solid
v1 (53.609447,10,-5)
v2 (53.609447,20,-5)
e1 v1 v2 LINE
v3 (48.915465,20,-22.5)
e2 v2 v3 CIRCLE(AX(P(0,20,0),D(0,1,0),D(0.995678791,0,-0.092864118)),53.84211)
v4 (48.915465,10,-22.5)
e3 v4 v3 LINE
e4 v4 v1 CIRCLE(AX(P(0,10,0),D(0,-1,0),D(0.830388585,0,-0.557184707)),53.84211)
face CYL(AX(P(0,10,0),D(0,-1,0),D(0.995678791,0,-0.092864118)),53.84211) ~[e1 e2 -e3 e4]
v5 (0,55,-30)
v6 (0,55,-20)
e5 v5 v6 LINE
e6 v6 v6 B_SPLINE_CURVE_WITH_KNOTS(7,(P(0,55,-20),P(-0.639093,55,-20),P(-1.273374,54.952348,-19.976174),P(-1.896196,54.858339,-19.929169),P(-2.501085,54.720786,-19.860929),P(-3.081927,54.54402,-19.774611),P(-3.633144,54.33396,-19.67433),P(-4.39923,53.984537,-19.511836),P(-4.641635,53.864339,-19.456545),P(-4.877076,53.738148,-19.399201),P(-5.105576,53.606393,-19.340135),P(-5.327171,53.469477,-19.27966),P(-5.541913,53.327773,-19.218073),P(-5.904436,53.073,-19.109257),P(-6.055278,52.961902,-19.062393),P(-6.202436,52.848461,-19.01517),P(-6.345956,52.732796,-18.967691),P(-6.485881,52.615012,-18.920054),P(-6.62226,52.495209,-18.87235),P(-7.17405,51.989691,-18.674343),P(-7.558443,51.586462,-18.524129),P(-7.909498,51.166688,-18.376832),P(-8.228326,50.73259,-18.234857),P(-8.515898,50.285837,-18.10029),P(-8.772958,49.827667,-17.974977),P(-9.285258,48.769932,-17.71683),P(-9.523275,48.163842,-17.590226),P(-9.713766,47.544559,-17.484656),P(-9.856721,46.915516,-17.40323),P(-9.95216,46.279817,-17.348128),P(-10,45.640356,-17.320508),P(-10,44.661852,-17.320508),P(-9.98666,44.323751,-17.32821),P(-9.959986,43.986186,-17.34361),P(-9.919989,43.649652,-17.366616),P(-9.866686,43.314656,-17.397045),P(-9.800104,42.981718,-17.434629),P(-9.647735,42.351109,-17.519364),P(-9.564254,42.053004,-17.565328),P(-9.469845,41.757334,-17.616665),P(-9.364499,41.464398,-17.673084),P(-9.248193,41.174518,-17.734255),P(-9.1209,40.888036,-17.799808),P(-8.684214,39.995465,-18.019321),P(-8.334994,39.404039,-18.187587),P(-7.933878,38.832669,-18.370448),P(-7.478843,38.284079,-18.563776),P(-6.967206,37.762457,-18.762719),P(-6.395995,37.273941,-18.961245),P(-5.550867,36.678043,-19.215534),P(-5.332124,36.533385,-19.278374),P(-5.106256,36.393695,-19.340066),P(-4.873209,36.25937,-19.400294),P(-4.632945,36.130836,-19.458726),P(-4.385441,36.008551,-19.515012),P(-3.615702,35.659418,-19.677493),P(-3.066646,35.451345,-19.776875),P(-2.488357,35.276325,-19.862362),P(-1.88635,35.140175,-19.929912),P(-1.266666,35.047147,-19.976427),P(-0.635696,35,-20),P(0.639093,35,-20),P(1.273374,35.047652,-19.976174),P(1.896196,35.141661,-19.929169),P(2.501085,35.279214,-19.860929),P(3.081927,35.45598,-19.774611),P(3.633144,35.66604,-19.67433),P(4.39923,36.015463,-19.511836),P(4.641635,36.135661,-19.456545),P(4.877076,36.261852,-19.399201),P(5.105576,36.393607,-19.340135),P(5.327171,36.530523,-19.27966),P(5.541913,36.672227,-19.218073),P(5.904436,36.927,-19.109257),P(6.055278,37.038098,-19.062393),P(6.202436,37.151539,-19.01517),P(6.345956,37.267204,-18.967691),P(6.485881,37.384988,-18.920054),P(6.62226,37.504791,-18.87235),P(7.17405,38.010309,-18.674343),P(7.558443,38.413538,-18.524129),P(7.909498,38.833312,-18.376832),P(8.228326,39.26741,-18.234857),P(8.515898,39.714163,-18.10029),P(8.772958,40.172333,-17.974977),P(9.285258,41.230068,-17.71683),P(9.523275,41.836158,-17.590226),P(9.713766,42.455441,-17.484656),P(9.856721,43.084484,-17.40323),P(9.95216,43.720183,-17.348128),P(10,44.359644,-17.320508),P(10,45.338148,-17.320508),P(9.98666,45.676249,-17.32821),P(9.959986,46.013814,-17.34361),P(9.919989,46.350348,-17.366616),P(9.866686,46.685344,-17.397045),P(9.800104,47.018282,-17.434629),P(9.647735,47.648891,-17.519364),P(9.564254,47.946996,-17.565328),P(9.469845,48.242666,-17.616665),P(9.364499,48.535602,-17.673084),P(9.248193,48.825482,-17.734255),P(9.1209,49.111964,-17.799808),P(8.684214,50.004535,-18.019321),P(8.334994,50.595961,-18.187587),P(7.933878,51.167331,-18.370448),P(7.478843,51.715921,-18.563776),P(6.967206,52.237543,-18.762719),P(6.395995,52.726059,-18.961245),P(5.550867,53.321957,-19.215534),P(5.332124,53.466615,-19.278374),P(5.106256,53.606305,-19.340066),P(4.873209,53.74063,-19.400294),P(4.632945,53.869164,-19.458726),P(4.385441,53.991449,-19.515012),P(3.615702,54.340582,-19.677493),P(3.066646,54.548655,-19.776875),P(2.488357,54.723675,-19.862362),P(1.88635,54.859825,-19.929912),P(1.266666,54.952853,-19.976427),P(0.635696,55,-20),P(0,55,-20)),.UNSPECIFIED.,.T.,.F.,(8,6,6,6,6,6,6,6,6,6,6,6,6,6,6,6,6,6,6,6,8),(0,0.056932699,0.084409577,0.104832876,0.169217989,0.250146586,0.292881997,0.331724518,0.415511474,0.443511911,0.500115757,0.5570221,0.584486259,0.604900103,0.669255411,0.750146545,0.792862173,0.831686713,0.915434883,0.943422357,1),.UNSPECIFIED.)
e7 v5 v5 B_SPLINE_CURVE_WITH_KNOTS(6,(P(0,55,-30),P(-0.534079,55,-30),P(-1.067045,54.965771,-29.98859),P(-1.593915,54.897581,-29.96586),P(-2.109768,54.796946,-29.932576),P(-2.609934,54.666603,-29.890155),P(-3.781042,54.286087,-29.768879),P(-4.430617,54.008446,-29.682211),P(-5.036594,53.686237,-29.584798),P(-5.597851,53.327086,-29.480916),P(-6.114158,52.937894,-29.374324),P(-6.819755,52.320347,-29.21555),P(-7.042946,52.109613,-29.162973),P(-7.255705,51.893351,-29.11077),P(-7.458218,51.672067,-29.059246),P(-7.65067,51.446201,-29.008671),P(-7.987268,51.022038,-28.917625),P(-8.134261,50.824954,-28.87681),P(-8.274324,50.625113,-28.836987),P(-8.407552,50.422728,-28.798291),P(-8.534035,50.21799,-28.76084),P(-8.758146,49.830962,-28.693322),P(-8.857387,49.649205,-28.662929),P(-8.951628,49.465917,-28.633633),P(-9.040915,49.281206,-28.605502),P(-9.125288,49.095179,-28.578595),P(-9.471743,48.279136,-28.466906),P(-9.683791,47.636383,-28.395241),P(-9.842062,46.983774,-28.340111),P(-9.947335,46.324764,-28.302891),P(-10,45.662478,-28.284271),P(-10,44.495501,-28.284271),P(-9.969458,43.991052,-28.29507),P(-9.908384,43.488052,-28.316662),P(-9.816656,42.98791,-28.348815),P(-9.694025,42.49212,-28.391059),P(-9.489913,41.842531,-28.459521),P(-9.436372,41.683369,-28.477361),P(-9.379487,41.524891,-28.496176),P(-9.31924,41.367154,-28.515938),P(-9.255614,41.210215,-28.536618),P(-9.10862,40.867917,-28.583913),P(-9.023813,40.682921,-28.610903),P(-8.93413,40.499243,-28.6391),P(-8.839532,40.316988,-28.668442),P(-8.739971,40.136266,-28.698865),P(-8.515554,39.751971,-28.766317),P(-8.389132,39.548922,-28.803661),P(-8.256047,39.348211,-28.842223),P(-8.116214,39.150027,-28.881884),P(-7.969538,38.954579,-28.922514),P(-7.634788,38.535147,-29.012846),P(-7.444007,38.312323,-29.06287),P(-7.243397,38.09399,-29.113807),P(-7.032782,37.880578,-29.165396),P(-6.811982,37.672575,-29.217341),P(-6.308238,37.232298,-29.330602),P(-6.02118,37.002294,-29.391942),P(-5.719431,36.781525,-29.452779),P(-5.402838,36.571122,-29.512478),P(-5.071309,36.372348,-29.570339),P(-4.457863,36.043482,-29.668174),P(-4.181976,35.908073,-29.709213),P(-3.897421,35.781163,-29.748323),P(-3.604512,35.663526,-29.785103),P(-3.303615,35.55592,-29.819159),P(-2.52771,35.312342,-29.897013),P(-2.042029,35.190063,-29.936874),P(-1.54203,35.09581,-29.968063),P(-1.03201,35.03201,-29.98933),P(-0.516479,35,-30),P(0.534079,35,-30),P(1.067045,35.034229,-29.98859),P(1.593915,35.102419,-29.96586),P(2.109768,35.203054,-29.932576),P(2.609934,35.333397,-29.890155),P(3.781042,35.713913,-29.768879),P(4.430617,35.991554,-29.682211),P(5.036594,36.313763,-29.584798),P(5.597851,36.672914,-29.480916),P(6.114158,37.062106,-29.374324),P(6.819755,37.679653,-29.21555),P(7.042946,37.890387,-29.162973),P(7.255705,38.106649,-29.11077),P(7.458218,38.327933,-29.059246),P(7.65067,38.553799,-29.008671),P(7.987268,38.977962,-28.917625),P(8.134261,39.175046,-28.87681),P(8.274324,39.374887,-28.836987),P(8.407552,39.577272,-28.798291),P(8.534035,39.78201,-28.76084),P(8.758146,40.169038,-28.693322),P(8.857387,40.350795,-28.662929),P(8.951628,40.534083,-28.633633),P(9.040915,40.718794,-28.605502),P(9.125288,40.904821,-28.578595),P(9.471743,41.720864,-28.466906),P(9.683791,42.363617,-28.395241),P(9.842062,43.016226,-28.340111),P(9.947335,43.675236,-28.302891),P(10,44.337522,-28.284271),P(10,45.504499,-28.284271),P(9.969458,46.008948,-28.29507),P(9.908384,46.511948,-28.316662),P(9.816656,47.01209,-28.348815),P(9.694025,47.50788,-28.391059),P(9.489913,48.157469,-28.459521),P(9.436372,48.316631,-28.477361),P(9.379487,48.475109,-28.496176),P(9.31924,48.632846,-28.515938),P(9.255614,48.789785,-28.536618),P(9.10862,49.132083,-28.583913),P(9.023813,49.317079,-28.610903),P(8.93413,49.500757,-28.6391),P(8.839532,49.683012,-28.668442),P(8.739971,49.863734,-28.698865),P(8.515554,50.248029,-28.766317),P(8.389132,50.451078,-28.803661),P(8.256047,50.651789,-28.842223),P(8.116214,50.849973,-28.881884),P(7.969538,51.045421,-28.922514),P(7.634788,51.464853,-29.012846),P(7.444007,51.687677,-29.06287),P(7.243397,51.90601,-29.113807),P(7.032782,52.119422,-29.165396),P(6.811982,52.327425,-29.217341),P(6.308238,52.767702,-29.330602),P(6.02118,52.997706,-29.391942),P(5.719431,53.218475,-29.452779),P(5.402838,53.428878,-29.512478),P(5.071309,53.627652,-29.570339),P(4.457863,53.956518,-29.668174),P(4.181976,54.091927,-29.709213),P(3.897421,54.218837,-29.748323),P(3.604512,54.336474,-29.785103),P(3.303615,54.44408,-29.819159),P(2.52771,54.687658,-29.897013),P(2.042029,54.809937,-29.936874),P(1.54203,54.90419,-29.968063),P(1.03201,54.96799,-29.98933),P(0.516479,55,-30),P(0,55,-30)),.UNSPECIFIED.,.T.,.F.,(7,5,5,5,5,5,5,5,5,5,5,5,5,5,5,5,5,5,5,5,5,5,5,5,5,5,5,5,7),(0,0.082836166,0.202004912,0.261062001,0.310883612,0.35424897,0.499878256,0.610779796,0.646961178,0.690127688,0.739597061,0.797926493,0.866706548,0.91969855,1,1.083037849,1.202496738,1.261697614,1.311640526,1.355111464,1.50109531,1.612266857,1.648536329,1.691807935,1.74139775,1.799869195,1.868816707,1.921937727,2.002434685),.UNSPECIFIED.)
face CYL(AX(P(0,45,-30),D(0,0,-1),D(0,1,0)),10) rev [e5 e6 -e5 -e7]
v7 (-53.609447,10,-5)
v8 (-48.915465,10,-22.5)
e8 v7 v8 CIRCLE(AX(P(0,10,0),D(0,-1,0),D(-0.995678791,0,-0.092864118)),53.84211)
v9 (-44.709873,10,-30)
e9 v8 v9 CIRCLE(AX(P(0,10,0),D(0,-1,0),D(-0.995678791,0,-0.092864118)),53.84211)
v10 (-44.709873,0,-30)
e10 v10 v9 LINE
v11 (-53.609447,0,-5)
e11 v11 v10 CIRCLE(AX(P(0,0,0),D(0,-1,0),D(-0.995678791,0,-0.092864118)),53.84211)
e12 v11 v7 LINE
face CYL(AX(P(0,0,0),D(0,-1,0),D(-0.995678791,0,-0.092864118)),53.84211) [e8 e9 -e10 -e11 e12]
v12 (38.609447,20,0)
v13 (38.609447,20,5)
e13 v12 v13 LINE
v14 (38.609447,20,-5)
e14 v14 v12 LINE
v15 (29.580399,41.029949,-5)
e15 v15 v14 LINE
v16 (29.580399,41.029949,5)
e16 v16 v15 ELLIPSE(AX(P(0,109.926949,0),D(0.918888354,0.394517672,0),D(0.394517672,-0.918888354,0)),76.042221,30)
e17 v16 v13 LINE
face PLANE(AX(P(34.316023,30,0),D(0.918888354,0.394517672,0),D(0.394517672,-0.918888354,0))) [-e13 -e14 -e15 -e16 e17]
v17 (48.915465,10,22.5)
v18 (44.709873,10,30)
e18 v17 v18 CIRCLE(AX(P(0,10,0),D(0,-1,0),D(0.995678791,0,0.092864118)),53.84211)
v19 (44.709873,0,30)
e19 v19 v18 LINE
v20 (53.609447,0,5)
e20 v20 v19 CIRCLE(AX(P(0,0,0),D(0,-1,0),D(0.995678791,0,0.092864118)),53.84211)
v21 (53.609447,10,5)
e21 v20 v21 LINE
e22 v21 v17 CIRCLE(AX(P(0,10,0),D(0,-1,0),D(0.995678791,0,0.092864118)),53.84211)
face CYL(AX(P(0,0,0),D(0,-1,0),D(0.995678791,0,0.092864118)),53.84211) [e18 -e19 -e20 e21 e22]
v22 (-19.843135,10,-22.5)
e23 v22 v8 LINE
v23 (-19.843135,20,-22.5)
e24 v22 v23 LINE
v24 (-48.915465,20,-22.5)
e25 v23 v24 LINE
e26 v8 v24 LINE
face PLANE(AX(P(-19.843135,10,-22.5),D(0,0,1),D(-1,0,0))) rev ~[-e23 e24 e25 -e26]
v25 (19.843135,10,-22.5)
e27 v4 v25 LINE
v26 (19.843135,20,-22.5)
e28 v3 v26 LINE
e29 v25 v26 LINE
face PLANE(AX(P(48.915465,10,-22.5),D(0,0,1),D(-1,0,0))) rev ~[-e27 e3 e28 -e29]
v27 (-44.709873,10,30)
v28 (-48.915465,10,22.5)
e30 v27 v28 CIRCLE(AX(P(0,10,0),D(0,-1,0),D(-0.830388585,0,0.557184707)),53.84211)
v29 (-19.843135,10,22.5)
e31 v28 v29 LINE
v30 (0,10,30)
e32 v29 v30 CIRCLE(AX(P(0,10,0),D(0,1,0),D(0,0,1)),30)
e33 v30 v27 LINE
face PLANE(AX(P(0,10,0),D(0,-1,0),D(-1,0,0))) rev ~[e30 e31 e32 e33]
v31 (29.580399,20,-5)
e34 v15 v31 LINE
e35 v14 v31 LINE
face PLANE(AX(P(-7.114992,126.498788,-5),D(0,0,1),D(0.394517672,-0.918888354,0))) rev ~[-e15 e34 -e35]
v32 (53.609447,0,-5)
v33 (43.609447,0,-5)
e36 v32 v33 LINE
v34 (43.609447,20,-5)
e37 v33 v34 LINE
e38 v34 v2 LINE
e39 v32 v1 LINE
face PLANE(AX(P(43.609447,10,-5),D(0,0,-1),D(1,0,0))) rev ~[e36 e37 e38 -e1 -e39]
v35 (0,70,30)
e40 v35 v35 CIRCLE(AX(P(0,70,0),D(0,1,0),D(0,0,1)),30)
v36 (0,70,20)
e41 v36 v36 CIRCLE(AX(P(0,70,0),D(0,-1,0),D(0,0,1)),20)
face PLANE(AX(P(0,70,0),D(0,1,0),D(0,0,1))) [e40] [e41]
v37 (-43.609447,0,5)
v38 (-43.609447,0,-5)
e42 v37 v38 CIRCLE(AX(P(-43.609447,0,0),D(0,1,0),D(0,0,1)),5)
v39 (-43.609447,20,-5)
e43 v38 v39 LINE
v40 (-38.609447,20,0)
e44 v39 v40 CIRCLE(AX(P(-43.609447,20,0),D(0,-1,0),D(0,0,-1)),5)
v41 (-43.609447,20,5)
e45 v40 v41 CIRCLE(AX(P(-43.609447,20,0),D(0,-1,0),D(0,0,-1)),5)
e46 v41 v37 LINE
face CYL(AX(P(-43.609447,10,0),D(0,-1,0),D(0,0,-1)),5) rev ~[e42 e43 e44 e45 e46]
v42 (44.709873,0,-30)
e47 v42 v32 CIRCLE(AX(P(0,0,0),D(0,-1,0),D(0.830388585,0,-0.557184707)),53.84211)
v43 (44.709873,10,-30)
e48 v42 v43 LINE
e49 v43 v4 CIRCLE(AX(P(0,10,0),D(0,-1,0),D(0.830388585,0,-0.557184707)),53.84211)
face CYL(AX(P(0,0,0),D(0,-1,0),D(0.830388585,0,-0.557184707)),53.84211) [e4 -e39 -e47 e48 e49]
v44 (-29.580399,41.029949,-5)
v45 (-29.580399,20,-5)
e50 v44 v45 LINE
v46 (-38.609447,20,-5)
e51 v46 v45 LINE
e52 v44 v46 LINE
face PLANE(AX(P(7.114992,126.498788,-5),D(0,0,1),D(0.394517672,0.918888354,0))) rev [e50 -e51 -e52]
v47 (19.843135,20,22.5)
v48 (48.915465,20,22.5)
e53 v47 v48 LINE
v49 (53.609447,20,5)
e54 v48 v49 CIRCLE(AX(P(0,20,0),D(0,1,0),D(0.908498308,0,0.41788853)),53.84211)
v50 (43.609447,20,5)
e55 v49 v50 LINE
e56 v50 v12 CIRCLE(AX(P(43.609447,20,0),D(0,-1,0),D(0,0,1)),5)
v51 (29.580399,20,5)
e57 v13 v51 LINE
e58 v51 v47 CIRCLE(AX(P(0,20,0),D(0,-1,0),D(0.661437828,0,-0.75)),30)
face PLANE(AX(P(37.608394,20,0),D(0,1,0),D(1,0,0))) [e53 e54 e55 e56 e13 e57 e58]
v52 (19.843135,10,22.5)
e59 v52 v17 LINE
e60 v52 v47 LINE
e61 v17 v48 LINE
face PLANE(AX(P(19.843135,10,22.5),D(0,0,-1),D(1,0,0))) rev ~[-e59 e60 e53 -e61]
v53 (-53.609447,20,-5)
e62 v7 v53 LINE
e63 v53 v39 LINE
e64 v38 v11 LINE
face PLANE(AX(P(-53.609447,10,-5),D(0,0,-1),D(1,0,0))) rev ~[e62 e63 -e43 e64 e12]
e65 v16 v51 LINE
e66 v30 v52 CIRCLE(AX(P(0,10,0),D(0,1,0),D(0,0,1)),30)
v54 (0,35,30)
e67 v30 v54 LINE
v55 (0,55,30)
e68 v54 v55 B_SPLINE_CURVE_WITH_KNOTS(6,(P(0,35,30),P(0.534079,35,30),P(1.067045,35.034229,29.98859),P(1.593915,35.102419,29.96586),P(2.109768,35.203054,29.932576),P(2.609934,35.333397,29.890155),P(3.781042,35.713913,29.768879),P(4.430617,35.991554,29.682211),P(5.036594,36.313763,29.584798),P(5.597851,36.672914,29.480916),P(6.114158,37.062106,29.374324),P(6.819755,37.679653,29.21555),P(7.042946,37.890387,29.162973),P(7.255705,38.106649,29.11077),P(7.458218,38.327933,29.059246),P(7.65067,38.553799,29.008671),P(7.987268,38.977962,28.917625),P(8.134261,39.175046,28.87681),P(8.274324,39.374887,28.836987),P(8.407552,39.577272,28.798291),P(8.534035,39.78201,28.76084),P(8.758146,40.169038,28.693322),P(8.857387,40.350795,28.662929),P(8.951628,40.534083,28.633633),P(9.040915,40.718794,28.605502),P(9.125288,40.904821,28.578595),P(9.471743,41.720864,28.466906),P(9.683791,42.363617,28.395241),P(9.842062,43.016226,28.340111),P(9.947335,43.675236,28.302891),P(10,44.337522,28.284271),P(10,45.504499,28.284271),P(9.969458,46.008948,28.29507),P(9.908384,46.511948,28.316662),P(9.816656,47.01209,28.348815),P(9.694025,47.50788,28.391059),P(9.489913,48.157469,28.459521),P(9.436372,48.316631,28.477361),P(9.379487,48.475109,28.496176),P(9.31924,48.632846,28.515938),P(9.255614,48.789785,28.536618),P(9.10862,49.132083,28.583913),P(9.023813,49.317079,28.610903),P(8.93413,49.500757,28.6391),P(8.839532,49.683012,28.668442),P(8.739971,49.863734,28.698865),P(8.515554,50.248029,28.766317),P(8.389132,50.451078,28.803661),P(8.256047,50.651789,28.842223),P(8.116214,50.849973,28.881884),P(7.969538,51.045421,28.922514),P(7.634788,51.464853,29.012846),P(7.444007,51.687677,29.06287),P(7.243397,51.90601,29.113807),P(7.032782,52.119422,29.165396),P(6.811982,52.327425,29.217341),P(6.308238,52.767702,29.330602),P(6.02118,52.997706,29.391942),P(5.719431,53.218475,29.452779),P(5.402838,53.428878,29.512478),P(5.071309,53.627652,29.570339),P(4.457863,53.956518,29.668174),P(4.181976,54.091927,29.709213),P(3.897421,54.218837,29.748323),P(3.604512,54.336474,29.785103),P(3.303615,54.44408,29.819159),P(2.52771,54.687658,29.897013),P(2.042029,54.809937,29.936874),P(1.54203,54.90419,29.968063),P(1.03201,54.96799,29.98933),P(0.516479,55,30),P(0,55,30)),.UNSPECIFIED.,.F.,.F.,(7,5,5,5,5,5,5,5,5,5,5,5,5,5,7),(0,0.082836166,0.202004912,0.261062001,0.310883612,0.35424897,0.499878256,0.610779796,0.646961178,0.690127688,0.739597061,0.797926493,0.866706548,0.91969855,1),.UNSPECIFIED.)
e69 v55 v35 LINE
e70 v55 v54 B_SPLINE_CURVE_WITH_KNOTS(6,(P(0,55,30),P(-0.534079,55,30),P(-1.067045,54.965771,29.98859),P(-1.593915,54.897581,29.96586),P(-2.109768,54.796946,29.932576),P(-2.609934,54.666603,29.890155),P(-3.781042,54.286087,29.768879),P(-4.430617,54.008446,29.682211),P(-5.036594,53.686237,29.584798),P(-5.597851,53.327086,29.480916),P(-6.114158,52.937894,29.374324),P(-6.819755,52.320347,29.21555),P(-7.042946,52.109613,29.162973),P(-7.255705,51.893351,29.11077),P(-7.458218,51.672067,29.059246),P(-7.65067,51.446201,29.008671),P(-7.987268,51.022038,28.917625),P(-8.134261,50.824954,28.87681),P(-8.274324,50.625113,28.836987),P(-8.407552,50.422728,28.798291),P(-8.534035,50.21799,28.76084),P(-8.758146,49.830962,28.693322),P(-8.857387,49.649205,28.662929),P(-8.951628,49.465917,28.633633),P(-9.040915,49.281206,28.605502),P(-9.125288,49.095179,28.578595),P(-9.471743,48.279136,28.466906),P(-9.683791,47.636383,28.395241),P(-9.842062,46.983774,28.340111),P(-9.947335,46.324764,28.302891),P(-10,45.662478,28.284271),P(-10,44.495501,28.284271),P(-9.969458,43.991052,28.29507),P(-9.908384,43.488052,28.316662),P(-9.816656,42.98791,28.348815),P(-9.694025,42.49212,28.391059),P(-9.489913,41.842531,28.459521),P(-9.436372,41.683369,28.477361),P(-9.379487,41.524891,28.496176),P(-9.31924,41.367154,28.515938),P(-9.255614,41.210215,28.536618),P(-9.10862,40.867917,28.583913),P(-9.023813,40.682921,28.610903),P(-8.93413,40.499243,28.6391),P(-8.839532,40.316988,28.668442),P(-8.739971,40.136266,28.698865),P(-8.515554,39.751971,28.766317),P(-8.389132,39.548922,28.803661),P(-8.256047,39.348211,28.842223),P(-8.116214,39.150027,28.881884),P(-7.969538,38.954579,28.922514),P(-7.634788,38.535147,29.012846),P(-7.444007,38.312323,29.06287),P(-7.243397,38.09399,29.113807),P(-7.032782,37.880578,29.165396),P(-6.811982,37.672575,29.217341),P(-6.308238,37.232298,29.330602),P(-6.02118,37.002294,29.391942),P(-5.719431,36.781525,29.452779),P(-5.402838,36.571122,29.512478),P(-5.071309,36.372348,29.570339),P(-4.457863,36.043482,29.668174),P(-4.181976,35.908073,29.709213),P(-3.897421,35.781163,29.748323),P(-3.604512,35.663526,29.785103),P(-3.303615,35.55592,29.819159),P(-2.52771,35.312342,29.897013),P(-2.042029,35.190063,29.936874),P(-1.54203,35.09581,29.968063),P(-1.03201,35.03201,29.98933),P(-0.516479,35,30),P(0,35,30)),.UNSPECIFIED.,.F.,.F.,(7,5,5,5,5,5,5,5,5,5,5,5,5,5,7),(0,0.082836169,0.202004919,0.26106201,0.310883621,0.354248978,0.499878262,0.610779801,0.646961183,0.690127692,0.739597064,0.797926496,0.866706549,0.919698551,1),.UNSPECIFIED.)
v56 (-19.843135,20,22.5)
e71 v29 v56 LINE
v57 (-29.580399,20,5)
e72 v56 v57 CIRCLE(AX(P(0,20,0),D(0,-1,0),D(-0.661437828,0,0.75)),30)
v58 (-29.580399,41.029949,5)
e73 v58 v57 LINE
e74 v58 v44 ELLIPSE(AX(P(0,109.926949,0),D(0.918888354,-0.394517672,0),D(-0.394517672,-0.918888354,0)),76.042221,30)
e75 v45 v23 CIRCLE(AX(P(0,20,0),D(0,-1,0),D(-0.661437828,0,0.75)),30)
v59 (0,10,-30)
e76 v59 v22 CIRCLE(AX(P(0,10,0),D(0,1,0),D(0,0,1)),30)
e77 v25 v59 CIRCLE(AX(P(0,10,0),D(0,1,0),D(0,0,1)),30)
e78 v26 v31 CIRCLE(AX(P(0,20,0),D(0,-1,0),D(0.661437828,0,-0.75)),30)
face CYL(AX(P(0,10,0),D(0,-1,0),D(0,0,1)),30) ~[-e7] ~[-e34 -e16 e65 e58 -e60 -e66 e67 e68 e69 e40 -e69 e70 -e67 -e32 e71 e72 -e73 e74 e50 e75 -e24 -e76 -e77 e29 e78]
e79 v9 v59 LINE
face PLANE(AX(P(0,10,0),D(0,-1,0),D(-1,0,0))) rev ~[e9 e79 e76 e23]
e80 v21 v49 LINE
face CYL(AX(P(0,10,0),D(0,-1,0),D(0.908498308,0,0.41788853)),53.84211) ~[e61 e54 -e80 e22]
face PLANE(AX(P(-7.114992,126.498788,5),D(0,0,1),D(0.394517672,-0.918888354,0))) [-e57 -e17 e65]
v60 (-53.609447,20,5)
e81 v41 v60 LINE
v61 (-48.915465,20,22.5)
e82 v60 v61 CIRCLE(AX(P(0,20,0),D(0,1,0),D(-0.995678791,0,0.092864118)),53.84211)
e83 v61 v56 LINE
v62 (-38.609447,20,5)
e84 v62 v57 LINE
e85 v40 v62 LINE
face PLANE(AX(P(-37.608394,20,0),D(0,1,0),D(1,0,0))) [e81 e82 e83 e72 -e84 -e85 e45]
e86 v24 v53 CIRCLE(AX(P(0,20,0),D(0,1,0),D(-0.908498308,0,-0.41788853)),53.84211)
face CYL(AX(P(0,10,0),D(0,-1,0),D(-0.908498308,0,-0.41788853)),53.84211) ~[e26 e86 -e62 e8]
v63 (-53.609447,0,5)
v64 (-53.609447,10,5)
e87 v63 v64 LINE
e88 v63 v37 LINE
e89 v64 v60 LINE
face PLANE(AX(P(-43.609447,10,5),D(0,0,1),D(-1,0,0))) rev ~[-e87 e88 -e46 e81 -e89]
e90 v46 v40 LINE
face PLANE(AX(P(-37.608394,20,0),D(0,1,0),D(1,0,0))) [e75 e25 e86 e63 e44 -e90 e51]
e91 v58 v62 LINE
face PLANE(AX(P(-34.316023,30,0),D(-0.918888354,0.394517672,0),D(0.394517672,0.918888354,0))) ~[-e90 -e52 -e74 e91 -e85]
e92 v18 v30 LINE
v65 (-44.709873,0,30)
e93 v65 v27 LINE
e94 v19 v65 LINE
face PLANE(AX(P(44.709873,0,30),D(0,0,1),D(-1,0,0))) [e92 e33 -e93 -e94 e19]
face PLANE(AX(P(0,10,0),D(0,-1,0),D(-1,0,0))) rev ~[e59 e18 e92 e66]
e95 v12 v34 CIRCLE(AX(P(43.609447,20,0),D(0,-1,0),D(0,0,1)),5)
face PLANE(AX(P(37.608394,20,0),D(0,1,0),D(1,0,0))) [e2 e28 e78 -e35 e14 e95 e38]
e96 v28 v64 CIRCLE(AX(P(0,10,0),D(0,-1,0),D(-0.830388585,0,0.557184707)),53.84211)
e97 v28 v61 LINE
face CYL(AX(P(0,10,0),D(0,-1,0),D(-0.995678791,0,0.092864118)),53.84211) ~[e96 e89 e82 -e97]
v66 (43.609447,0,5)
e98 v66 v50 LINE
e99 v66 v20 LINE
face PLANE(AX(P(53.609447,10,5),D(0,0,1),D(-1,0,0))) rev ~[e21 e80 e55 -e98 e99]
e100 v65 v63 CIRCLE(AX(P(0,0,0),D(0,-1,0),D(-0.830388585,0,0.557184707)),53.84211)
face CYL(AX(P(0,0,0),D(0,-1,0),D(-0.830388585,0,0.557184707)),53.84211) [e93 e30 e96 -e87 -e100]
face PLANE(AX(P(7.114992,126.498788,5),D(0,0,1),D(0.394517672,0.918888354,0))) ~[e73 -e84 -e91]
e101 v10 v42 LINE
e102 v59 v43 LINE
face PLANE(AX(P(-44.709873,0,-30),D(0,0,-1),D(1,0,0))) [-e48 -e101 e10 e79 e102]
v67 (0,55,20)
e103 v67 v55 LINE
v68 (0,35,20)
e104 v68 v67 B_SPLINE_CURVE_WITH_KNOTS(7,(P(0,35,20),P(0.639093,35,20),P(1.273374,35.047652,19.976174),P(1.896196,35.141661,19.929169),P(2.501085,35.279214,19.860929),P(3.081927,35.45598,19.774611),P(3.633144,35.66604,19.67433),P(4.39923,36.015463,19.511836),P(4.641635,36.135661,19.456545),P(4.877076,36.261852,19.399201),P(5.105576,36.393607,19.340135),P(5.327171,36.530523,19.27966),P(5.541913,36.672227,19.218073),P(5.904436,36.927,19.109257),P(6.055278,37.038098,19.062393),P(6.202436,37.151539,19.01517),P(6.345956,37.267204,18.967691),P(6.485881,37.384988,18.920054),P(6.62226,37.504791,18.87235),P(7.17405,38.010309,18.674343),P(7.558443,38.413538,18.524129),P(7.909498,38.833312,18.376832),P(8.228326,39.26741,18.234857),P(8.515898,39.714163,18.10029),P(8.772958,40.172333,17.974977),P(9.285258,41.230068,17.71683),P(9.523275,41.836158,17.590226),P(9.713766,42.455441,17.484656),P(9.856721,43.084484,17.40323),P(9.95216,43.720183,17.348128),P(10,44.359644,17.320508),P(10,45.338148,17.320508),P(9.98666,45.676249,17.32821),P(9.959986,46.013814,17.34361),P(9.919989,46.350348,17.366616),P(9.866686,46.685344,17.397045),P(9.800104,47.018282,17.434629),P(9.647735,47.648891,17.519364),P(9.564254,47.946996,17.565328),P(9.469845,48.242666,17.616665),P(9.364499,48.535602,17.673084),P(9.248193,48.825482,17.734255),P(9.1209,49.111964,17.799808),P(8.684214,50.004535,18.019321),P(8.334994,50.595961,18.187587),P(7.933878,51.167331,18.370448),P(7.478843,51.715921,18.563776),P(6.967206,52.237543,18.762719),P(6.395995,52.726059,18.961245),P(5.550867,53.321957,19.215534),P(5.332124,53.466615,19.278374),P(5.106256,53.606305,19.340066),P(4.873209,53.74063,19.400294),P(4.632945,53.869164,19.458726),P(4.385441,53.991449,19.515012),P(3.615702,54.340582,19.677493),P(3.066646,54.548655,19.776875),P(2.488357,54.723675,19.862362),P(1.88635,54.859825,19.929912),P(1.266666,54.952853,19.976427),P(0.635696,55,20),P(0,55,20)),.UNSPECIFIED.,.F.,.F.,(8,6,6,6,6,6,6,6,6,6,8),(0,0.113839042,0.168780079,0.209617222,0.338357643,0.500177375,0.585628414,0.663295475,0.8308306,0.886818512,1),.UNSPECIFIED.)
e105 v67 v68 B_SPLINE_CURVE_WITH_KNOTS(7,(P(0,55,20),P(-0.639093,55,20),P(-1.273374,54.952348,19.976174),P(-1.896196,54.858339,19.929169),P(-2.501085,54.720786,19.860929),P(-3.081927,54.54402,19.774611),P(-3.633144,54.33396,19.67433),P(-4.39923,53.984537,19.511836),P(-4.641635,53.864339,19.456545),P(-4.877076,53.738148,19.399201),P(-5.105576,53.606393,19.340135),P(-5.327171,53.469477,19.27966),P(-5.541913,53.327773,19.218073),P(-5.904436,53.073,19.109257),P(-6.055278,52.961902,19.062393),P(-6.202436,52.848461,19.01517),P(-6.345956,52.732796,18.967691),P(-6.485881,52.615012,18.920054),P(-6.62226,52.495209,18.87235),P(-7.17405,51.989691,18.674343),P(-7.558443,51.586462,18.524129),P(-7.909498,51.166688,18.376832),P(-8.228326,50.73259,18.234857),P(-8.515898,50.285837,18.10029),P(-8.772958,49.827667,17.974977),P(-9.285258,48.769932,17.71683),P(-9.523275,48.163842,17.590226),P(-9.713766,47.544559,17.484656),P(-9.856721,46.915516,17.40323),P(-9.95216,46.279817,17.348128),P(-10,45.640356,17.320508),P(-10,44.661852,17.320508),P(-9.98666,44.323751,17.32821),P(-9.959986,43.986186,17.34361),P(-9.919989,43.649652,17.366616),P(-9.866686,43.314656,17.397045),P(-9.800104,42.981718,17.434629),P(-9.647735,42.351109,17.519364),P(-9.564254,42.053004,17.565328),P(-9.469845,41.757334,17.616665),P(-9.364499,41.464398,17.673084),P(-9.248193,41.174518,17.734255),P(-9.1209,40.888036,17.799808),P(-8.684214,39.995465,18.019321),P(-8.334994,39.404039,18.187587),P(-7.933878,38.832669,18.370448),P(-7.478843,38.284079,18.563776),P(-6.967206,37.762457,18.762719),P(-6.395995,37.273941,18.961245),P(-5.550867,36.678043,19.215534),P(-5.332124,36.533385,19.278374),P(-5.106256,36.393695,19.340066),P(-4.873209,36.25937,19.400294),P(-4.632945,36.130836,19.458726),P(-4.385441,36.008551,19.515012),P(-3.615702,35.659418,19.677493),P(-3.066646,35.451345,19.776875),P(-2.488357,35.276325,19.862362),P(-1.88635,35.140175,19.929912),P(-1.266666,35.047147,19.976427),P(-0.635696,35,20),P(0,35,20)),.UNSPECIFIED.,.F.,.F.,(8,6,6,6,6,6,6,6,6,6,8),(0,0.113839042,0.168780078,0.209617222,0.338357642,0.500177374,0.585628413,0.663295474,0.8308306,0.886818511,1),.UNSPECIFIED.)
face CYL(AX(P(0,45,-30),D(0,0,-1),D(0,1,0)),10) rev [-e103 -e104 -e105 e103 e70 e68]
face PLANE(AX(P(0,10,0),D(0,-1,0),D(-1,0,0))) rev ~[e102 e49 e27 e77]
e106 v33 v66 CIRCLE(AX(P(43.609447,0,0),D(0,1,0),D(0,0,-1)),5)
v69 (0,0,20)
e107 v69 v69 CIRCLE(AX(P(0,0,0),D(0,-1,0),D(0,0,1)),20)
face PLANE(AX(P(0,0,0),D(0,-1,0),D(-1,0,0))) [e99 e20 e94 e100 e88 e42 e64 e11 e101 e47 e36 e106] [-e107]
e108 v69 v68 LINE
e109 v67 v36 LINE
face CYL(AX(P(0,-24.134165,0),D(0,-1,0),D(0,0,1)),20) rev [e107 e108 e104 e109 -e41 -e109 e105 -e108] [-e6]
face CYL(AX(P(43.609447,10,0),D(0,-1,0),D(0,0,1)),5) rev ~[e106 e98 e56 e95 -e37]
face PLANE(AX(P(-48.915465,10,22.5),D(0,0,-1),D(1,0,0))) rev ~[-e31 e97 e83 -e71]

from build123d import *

# Parameters (mm, degrees)
EXTRUDE_1_DEPTH          = 10
SKETCH_3_R               = 30
EXTRUDE_2_DEPTH          = 60
CUT_EXTRUDE_START        = -30
SKETCH_4_R               = 10
CUT_EXTRUDE_1_DEPTH      = 60
EXTRUDE_3_DEPTH          = 10
CUT_EXTRUDE_2_DEPTH      = 94.134165377
CUT_EXTRUDE_2_DEPTH_BACK = 94.134165377
SKETCH_8_R               = 20
RIB_2_REACH              = 95.134
SKETCH_9_WALL_W          = 210.033760752
SKETCH_9_WALL_H          = 10


with BuildPart() as part:
    # 草图2 → 凸台-拉伸1 (new body)
    with BuildSketch(Plane(origin=(0, 0, 0), x_dir=(1, 0, 0), z_dir=(0, 1, 0))):
        with BuildLine():
            Line((53.609446504, 5), (43.609446504, 5))
            ThreePointArc((43.609446504, 5), (38.609446504, 0), (43.609446504, -5))
            Line((43.609446504, -5), (53.609446504, -5))
            ThreePointArc((53.609446504, -5), (50.723980057, -18.056871313), (44.709873121, -30))
            Line((44.709873121, -30), (-44.709873121, -30))
            ThreePointArc((-44.709873121, -30), (-50.723980057, -18.056871313), (-53.609446504, -5))
            Line((-53.609446504, -5), (-43.609446504, -5))
            ThreePointArc((-43.609446504, -5), (-38.609446504, 0), (-43.609446504, 5))
            Line((-43.609446504, 5), (-53.609446504, 5))
            ThreePointArc((-53.609446504, 5), (-50.723980057, 18.056871313), (-44.709873121, 30))
            Line((-44.709873121, 30), (44.709873121, 30))
            ThreePointArc((44.709873121, 30), (50.723980057, 18.056871313), (53.609446504, 5))
        make_face()
    extrude(amount=EXTRUDE_1_DEPTH)

    # 草图3 → 凸台-拉伸2 (add)
    with BuildSketch(Plane(origin=(0, 10, 0), x_dir=(1, 0, 0), z_dir=(0, 1, 0))):
        with Locations(Location((0, 0, 0), (0, 0, 270))):
            Circle(SKETCH_3_R)
    extrude(amount=EXTRUDE_2_DEPTH)

    # 草图4 → 切除-拉伸1 (cut)
    with BuildSketch(Plane.XY.offset(CUT_EXTRUDE_START)):
        with Locations(Location((0, 45, 0), (0, 0, 90))):
            Circle(SKETCH_4_R)
    extrude(amount=CUT_EXTRUDE_1_DEPTH, mode=Mode.SUBTRACT)

    # 草图7 → 凸台-拉伸3 (add)
    with BuildSketch(Plane(origin=(0, 10, 0), x_dir=(1, 0, 0), z_dir=(0, 1, 0))):
        with BuildLine():
            Line((-48.915465391, -22.5), (-19.843134833, -22.5))
            ThreePointArc((-19.843134833, -22.5), (-30, 0), (-19.843134833, 22.5))
            Line((-19.843134833, 22.5), (-48.915465391, 22.5))
            ThreePointArc((-48.915465391, 22.5), (-52.003864181, 13.948866071), (-53.609446504, 5))
            Line((-53.609446504, 5), (-43.609446504, 5))
            ThreePointArc((-43.609446504, 5), (-38.609446504, 0), (-43.609446504, -5))
            Line((-43.609446504, -5), (-53.609446504, -5))
            ThreePointArc((-53.609446504, -5), (-52.003864181, -13.948866071), (-48.915465391, -22.5))
        make_face()
        with BuildLine():
            Line((19.843134833, -22.5), (48.915465391, -22.5))
            ThreePointArc((48.915465391, -22.5), (52.003864181, -13.948866071), (53.609446504, -5))
            Line((53.609446504, -5), (43.609446504, -5))
            ThreePointArc((43.609446504, -5), (38.609446504, 0), (43.609446504, 5))
            Line((43.609446504, 5), (53.609446504, 5))
            ThreePointArc((53.609446504, 5), (52.003864181, 13.948866071), (48.915465391, 22.5))
            Line((48.915465391, 22.5), (19.843134833, 22.5))
            ThreePointArc((19.843134833, 22.5), (30, 0), (19.843134833, -22.5))
        make_face()
    extrude(amount=EXTRUDE_3_DEPTH)

    # 草图8 → 切除-拉伸2 (cut, two sides: drawn at the far end of the back side and taken through both)
    with BuildSketch(Plane(origin=(0, 70, 0), x_dir=(1, 0, 0), z_dir=(0, 1, 0)).offset(-CUT_EXTRUDE_2_DEPTH_BACK)):
        with Locations(Location((0, 0, 0), (0, 0, 270))):
            Circle(SKETCH_8_R)
    extrude(amount=CUT_EXTRUDE_2_DEPTH + CUT_EXTRUDE_2_DEPTH_BACK, mode=Mode.SUBTRACT)

    # 草图9 wall → 筋2 (add, up to next)
    with BuildSketch(Plane(origin=(34.316023147, 30, 0), x_dir=(0.394517672004, -0.918888353651, 0), z_dir=(0.918888353651, 0.394517672004, 0)), mode=Mode.PRIVATE) as rib_2_sk1:
        Rectangle(SKETCH_9_WALL_W, SKETCH_9_WALL_H)
    rib_2_tool1 = extrude(rib_2_sk1.sketch, amount=-RIB_2_REACH, mode=Mode.PRIVATE) - part.part
    rib_2 = rib_2_tool1.solids().sort_by_distance((34.316023147, 30, 0))[0]
    add(rib_2)

    # 镜向1: 筋2 across plane
    add(rib_2.mirror(Plane(origin=(0, 0, 0), x_dir=(0, 0, 1), z_dir=(1, 0, 0))))


solid = part.part
